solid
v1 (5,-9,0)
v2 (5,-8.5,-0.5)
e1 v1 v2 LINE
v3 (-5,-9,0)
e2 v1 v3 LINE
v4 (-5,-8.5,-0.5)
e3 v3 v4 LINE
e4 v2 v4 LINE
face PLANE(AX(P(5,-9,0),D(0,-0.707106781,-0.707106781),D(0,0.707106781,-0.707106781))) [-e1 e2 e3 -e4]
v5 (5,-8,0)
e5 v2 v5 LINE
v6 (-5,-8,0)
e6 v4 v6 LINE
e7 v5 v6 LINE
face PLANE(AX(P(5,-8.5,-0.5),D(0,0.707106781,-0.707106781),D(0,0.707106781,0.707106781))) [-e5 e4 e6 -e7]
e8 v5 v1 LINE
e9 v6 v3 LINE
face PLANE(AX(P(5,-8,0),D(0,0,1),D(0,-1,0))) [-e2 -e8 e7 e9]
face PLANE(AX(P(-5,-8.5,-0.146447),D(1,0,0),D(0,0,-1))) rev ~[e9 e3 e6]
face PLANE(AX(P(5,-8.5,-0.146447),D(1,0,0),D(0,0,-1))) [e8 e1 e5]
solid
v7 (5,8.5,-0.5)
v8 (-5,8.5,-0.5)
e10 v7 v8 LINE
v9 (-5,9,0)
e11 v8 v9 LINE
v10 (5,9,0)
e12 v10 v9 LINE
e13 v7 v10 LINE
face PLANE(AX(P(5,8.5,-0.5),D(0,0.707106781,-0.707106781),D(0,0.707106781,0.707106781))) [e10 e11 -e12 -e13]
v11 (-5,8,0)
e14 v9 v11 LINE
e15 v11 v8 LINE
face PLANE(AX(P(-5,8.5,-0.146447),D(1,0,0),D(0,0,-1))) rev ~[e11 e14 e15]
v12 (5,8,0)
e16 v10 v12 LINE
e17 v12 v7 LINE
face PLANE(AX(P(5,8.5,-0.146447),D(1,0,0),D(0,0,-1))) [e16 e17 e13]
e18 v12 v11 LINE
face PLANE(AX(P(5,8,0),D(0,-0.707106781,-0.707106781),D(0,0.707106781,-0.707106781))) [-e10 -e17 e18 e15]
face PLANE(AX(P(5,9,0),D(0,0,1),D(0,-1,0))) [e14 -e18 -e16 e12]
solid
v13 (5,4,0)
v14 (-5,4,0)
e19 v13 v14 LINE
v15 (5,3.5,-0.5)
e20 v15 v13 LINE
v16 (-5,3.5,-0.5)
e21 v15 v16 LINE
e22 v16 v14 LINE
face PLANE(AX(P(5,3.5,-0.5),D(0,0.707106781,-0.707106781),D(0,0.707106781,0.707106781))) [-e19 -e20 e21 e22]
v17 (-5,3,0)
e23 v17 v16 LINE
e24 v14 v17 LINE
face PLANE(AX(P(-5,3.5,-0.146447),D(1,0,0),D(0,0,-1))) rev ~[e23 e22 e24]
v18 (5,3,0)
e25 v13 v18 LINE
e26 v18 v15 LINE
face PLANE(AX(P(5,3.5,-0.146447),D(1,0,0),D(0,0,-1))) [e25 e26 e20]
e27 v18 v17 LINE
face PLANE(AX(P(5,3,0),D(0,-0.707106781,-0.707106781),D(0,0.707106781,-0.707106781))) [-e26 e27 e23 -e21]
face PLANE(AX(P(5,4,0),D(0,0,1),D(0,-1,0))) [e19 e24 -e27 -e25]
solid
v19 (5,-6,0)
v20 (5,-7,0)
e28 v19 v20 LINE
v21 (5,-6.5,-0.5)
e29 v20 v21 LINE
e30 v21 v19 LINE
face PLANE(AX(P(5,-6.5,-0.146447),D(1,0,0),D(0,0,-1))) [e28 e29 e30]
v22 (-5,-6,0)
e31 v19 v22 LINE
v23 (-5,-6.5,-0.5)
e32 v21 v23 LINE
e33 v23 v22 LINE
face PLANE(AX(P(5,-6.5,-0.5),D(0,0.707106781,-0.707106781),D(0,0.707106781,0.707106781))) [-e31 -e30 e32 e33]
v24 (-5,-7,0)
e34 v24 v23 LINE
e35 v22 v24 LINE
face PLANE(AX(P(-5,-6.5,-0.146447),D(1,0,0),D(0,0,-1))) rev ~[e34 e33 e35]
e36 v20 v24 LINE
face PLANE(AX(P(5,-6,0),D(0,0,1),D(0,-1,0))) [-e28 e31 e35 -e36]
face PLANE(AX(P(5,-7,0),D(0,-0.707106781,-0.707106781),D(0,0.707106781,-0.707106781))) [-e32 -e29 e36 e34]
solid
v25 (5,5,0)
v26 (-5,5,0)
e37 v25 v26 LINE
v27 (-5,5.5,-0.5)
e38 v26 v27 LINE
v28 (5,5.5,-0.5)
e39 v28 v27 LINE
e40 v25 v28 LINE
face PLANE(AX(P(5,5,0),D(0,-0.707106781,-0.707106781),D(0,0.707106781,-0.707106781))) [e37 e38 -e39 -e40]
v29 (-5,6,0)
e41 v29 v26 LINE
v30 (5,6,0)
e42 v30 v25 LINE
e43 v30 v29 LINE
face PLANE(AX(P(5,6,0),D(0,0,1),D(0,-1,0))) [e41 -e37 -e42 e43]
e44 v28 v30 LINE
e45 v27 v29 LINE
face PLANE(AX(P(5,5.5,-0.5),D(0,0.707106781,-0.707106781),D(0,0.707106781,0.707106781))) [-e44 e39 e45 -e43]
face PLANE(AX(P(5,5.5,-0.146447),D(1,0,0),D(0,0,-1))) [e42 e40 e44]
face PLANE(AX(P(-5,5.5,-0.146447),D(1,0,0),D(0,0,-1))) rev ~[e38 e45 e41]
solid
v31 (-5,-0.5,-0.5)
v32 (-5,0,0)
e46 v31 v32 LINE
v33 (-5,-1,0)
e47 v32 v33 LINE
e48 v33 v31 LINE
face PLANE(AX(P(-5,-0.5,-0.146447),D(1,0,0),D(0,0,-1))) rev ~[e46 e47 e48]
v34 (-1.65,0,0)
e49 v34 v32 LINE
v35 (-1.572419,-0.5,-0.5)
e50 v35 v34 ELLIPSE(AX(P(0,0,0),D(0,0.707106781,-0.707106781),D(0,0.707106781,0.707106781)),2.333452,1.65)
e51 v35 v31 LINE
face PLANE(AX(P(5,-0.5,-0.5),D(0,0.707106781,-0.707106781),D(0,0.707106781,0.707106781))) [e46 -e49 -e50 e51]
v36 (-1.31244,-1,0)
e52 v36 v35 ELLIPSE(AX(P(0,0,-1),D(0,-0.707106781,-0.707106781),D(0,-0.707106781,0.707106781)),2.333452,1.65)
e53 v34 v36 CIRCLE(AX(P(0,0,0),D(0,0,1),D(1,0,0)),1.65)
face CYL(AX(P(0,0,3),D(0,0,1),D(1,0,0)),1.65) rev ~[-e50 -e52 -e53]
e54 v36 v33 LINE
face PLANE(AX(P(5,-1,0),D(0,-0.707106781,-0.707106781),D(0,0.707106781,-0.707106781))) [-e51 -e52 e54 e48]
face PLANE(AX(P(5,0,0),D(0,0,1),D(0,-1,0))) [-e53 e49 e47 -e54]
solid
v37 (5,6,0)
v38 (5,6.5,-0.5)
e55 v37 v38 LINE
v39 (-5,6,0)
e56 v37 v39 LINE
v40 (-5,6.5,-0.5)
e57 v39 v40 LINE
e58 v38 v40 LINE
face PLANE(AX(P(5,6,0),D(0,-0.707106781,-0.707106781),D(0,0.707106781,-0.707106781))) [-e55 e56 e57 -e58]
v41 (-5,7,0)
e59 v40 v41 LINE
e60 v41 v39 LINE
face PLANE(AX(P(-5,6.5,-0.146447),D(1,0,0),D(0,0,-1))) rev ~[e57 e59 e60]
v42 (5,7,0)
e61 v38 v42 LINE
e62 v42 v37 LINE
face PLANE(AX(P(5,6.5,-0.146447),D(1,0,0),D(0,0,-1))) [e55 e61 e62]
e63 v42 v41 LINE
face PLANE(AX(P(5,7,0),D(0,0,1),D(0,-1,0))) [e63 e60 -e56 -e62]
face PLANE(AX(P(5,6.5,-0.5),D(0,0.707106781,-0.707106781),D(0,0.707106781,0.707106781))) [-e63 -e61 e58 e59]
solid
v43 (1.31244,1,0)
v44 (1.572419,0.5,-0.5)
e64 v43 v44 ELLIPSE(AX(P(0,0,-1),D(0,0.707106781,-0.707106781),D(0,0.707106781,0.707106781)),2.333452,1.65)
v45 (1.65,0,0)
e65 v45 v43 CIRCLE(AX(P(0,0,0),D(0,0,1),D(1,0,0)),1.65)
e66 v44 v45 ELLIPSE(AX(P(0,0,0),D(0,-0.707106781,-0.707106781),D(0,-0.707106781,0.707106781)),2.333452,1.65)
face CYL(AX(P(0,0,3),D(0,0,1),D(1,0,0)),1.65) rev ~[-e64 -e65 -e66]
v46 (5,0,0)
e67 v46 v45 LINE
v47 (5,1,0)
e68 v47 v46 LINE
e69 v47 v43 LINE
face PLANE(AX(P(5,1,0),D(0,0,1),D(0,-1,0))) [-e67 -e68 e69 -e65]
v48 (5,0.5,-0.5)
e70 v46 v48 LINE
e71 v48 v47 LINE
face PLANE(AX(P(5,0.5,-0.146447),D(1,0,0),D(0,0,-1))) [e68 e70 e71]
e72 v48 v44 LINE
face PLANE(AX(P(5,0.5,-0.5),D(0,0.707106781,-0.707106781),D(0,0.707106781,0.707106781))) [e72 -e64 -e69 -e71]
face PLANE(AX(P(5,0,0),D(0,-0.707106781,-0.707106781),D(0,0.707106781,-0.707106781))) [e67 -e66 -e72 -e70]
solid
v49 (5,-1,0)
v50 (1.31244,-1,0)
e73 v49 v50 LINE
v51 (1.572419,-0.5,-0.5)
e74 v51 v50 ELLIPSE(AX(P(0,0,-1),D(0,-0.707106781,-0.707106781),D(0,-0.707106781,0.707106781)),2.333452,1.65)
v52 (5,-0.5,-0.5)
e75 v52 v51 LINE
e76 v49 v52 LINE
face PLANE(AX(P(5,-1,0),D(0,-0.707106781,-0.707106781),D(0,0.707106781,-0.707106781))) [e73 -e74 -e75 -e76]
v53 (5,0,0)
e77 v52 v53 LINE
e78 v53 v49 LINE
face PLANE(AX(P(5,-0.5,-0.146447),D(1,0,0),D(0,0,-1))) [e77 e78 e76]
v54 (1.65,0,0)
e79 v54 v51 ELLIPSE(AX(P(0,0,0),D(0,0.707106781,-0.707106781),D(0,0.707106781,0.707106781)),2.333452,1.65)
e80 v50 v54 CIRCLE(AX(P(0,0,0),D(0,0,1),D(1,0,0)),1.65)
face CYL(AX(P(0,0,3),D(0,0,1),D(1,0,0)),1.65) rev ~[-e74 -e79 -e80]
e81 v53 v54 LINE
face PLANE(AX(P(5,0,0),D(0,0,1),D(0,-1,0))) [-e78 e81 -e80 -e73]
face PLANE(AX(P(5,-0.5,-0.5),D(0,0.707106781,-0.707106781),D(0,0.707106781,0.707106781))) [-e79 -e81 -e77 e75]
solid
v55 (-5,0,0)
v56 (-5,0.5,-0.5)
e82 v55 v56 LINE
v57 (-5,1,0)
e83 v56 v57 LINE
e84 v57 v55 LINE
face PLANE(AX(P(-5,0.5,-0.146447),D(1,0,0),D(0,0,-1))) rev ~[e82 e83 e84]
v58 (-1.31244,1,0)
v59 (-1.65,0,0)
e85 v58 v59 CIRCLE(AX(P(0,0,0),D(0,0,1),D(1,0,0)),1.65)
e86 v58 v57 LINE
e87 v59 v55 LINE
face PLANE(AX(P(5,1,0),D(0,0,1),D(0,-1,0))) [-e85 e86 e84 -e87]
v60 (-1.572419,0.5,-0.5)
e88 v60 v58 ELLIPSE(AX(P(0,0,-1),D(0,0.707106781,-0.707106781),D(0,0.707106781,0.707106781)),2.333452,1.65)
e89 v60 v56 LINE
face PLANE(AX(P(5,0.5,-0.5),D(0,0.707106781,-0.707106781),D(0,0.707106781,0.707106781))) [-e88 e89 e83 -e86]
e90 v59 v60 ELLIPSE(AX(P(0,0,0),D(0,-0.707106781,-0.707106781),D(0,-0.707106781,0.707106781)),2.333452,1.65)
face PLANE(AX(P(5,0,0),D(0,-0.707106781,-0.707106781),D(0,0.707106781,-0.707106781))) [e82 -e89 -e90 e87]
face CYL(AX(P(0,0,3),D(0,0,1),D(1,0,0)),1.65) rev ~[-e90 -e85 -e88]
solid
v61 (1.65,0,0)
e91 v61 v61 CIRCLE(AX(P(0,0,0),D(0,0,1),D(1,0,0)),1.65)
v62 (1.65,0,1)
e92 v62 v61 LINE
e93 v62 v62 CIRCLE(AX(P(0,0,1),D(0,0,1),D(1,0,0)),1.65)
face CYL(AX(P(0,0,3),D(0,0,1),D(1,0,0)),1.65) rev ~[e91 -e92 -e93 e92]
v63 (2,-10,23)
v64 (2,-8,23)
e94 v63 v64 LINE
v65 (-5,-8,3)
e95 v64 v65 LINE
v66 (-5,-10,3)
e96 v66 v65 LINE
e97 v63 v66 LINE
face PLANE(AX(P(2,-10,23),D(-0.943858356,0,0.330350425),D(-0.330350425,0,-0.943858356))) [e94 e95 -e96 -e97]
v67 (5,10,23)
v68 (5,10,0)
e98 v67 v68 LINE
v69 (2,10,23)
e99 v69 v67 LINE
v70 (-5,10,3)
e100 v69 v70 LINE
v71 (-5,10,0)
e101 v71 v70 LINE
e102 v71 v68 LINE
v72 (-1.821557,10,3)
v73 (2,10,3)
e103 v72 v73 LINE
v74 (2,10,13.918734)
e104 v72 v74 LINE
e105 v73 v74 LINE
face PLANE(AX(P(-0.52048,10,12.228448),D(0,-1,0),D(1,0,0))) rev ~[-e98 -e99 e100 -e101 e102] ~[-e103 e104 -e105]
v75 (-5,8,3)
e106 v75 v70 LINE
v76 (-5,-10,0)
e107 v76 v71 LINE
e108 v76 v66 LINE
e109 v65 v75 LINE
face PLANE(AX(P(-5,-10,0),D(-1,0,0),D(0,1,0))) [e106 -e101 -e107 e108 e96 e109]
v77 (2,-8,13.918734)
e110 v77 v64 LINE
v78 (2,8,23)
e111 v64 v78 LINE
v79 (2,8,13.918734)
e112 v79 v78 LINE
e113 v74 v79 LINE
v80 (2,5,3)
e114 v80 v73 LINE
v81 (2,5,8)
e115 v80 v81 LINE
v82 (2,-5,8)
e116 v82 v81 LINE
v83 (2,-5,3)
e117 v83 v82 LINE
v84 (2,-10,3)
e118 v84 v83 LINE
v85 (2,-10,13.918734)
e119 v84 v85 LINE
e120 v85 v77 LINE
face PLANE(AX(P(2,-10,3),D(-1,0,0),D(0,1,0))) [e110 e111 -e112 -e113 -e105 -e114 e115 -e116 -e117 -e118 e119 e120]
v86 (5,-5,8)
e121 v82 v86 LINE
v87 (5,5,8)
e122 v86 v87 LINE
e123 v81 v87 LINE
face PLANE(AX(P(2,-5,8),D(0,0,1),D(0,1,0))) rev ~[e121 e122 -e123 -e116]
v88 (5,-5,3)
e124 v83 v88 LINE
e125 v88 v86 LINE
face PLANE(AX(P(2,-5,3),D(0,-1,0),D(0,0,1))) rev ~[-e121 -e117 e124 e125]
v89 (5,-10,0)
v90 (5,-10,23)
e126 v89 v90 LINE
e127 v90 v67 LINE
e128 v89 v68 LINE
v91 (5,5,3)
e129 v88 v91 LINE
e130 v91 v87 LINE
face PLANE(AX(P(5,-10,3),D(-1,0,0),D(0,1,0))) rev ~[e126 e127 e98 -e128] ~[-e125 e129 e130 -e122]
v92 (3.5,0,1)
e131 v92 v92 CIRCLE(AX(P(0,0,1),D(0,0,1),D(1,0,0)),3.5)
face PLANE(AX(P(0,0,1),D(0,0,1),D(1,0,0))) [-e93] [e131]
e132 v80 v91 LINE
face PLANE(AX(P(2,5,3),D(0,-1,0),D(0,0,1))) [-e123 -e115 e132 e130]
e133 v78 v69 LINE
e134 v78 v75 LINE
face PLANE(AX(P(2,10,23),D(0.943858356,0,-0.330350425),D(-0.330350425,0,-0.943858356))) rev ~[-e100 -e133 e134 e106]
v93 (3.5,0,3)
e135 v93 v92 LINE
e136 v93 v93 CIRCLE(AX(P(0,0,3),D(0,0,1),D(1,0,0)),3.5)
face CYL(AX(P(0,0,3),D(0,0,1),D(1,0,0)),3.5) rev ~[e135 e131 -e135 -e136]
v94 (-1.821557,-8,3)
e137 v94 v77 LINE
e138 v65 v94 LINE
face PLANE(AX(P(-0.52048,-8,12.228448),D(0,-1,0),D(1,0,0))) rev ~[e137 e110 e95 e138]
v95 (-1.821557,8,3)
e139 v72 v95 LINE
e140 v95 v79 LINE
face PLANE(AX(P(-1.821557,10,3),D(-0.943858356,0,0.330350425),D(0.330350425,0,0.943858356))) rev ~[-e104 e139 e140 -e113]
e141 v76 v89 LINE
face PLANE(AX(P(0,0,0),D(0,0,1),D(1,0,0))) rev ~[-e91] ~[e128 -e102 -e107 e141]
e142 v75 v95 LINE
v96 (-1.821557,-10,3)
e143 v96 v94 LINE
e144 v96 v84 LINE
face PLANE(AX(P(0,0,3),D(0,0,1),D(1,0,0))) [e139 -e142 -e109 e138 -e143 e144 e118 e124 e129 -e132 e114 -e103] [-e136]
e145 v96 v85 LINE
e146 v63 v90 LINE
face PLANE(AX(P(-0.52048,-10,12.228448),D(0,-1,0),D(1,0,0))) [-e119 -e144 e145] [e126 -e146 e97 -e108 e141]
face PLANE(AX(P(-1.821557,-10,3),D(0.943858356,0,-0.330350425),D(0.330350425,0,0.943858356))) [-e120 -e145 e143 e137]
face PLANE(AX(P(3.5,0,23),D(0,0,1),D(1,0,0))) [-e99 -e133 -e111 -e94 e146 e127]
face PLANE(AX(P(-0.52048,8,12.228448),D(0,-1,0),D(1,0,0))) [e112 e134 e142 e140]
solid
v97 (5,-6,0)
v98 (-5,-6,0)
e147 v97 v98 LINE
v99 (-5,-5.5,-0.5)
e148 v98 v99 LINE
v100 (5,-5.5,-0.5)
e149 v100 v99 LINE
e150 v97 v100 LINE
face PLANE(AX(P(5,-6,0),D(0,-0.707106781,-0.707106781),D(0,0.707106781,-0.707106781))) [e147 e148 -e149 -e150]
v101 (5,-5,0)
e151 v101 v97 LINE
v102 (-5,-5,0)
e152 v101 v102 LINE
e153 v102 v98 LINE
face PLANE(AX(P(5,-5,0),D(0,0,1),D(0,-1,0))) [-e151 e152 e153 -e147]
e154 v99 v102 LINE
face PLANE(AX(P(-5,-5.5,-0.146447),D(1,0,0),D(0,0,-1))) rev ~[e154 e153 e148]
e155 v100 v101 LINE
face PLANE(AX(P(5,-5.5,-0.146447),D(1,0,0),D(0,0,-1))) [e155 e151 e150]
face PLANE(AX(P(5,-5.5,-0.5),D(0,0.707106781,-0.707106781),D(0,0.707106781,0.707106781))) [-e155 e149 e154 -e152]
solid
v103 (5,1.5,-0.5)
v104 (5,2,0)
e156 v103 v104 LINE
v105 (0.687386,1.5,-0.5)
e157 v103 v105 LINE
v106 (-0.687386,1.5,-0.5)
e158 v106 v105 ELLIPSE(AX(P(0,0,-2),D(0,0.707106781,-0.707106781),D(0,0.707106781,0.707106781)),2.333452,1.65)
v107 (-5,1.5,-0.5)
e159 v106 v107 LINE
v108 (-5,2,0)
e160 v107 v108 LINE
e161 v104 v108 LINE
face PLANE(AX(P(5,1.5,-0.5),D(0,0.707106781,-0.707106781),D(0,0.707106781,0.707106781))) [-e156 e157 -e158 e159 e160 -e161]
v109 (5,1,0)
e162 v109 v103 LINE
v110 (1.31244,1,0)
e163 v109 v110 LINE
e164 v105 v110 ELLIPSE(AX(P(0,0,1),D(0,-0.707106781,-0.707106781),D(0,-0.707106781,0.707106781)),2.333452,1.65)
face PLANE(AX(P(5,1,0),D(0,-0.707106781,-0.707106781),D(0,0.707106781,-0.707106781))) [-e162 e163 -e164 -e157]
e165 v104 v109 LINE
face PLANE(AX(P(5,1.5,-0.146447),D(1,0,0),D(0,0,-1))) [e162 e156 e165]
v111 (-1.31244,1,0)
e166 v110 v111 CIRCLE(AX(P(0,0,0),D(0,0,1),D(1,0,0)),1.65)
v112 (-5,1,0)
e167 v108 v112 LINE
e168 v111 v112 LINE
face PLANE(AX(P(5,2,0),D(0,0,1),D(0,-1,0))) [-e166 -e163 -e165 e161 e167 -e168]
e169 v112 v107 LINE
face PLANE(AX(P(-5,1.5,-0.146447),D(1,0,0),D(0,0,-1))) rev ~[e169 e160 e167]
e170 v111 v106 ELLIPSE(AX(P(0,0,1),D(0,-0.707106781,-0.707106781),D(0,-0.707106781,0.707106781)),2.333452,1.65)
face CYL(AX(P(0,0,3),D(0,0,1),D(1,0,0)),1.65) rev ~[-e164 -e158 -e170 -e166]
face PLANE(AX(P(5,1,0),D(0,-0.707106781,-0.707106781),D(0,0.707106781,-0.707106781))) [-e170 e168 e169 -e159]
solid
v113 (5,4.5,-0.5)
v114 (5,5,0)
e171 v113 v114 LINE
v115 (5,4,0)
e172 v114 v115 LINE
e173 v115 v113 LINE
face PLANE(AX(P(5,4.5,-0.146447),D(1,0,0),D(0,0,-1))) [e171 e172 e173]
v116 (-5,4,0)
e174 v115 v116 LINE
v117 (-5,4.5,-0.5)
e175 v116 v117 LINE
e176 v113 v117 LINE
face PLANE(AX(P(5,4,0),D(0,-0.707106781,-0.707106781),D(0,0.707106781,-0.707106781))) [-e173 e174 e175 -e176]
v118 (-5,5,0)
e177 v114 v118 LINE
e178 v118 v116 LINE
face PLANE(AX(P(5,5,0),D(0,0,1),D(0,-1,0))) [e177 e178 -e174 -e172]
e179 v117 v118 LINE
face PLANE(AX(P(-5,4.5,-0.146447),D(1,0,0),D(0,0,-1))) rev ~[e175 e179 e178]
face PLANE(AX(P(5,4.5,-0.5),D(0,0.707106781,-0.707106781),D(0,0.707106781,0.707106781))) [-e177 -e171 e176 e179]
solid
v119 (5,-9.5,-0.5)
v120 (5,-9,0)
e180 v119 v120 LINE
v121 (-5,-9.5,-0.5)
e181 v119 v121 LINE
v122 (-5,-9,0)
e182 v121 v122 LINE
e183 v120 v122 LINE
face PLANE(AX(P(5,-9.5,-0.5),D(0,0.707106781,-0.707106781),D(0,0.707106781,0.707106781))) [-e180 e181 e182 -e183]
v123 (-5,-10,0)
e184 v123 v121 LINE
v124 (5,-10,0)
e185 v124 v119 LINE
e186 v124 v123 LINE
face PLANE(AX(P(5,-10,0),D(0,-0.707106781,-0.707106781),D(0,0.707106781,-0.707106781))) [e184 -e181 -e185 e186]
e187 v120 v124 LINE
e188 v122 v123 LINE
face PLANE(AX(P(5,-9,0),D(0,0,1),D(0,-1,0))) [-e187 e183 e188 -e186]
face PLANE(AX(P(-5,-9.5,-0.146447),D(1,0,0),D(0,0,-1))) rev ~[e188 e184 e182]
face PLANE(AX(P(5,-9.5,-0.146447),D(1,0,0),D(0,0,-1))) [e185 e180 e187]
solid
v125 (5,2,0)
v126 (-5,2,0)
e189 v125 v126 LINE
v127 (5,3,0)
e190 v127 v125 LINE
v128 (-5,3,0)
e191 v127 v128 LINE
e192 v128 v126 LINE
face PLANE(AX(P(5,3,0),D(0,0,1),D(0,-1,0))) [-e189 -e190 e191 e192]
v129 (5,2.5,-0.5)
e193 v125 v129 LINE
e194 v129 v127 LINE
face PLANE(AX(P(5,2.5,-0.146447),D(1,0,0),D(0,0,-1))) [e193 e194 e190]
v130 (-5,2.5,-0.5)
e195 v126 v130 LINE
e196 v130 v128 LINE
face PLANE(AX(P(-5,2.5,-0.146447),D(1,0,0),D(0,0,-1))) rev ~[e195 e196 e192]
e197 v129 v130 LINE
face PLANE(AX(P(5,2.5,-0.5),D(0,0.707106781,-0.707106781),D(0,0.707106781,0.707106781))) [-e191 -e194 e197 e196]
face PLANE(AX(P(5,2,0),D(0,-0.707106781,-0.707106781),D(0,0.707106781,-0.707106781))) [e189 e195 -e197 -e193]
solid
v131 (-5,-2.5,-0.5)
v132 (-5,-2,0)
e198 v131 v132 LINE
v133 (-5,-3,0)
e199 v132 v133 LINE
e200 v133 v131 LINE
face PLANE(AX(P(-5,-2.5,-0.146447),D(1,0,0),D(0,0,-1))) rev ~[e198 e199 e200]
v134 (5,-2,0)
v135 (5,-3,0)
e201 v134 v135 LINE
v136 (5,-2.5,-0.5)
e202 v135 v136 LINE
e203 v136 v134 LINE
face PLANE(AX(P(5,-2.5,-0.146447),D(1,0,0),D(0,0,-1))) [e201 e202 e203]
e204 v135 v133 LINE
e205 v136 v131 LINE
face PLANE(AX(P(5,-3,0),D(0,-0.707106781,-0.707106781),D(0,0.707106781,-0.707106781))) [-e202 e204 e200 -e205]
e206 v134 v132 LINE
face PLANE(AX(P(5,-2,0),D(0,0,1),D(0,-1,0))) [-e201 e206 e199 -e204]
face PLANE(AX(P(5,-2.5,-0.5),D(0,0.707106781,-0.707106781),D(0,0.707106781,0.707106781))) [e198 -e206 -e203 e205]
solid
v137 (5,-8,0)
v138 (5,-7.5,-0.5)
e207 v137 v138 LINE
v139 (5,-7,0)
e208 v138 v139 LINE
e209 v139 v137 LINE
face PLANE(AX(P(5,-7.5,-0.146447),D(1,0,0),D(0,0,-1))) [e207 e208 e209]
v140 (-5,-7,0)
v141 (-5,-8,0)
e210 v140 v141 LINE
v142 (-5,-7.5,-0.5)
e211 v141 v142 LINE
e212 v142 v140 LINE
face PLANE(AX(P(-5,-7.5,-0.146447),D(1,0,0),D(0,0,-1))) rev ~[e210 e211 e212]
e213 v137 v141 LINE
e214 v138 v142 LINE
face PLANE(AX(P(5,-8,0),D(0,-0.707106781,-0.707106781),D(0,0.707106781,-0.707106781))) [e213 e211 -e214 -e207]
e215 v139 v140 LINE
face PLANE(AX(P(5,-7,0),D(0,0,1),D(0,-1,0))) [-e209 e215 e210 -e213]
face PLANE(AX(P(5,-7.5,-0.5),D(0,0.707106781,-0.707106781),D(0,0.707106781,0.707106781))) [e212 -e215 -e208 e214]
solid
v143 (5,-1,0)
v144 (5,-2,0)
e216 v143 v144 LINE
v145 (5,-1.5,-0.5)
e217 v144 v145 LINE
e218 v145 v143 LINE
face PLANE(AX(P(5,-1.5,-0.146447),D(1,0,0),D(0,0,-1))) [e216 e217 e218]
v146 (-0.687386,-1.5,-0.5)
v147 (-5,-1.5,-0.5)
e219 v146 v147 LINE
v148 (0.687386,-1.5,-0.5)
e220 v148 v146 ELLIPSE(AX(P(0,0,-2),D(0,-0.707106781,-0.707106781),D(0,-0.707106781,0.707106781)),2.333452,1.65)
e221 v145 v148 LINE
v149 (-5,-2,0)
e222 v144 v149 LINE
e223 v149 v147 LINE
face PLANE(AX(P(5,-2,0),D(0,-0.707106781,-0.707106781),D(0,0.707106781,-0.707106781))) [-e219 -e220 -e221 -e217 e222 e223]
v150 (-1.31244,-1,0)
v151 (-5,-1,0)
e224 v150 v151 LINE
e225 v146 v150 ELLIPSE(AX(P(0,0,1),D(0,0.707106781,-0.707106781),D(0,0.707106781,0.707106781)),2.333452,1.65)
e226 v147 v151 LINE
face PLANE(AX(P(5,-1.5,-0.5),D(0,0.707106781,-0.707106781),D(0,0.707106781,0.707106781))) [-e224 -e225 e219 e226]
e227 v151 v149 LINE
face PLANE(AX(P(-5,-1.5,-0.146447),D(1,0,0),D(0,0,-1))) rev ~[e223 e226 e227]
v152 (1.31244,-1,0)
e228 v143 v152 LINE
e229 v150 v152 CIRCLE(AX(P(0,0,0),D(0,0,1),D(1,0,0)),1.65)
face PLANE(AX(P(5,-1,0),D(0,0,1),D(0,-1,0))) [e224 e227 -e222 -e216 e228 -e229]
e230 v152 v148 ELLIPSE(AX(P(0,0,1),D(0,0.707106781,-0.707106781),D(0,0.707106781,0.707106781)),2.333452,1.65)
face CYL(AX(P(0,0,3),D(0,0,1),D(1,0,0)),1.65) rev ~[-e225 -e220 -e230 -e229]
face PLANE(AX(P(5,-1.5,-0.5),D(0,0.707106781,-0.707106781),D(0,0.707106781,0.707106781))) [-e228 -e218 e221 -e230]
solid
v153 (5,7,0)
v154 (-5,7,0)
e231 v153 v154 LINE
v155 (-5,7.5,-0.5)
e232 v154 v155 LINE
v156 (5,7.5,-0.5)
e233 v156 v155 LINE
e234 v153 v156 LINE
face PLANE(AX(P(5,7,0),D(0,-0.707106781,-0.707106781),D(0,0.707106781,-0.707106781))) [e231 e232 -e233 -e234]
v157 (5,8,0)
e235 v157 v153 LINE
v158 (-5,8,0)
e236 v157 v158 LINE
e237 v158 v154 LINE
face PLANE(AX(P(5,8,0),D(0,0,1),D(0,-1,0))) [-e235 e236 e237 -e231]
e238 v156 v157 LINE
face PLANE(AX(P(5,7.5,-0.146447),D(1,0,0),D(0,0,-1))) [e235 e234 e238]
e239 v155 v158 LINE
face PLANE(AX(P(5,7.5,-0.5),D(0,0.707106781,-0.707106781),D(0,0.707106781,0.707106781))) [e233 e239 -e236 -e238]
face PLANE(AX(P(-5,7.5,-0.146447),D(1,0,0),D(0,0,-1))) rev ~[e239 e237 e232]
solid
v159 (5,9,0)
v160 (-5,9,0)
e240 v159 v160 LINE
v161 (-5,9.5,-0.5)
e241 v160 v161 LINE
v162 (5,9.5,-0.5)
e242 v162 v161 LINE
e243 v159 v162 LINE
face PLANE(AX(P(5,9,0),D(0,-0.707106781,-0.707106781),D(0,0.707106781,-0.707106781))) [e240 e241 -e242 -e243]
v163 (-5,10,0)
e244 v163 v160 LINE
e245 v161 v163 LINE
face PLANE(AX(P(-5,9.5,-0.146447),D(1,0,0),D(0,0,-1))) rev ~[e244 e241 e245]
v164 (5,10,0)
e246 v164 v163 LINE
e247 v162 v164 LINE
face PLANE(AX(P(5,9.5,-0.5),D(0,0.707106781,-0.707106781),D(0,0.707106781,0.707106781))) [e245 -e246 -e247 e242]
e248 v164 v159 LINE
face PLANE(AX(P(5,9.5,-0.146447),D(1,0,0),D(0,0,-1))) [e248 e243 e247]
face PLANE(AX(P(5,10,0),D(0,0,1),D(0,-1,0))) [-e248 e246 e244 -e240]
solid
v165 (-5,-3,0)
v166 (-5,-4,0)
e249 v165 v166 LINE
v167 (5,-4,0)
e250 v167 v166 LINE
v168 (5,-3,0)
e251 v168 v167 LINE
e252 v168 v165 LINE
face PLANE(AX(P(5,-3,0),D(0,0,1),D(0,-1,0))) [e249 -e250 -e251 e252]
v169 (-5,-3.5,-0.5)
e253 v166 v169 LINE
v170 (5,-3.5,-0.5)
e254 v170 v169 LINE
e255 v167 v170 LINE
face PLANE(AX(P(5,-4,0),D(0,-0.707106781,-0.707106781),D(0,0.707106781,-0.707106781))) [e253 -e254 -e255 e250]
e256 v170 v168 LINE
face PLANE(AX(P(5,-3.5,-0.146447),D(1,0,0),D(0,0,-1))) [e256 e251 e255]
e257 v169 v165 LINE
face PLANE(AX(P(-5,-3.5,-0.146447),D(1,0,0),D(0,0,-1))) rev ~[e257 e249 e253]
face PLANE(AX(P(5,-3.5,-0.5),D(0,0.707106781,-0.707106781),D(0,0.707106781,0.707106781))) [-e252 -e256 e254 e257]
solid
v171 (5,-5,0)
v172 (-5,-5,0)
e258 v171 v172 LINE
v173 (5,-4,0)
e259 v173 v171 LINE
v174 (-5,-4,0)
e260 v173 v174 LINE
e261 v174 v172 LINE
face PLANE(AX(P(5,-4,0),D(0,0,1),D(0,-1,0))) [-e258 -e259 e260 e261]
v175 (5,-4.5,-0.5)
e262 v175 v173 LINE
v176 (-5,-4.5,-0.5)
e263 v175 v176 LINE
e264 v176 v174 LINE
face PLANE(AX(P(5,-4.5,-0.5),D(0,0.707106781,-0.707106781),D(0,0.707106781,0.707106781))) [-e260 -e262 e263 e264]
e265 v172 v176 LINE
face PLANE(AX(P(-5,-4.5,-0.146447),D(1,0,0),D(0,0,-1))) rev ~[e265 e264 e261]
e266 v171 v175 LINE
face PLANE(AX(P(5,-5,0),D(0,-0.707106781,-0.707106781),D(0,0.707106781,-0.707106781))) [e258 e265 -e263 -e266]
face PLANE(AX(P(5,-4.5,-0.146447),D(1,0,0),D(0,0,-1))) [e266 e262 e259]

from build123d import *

# Parameters (mm, degrees)
SKETCH1_W              = 10
SKETCH1_H              = 20
BOSS_EXTRUDE1_DEPTH    = 3
SKETCH2_W              = 3
SKETCH2_H              = 20
BOSS_EXTRUDE2_DEPTH    = 20
BOSS_EXTRUDE3_DEPTH    = 2
BOSS_EXTRUDE4_START    = -20
BOSS_EXTRUDE4_DEPTH    = 2
SKETCH4_W              = 5
SKETCH4_H              = 10
CUT_EXTRUDE1_DEPTH     = 12
BOSS_EXTRUDE9_DEPTH    = 10
BOSS_EXTRUDE9_2_DEPTH  = 10
BOSS_EXTRUDE9_3_DEPTH  = 10
BOSS_EXTRUDE9_4_DEPTH  = 10
BOSS_EXTRUDE9_5_DEPTH  = 10
BOSS_EXTRUDE9_6_DEPTH  = 10
BOSS_EXTRUDE9_7_DEPTH  = 10
BOSS_EXTRUDE9_8_DEPTH  = 10
BOSS_EXTRUDE9_9_DEPTH  = 10
BOSS_EXTRUDE9_10_DEPTH = 10
BOSS_EXTRUDE9_11_DEPTH = 10
BOSS_EXTRUDE9_12_DEPTH = 10
BOSS_EXTRUDE9_13_DEPTH = 10
BOSS_EXTRUDE9_14_DEPTH = 10
BOSS_EXTRUDE9_15_DEPTH = 10
BOSS_EXTRUDE9_16_DEPTH = 10
BOSS_EXTRUDE9_17_DEPTH = 10
BOSS_EXTRUDE9_18_DEPTH = 10
BOSS_EXTRUDE9_19_DEPTH = 10
BOSS_EXTRUDE9_20_DEPTH = 10
SKETCH6_R              = 1.65
CUT_EXTRUDE2_DEPTH     = 12
SKETCH7_R              = 3.5
CUT_EXTRUDE3_DEPTH     = 2


with BuildPart() as part:
    # Sketch1 → Boss-Extrude1 (new body)
    with BuildSketch(Plane.XY):
        Rectangle(SKETCH1_W, SKETCH1_H)
    extrude(amount=BOSS_EXTRUDE1_DEPTH)

    # Sketch2 → Boss-Extrude2 (add)
    with BuildSketch(Plane.XY.offset(3)):
        with Locations((3.5, 0)):
            Rectangle(SKETCH2_W, SKETCH2_H)
    extrude(amount=BOSS_EXTRUDE2_DEPTH)

    # Sketch3 → Boss-Extrude3 (add)
    with BuildSketch(Plane.XZ.offset(10)):
        Polygon((2, 23), (-5, 3), (-1.821556985, 3), (2, 13.918734243), align=None)
    extrude(amount=-BOSS_EXTRUDE3_DEPTH)

    # Sketch3<2> → Boss-Extrude4 (add)
    with BuildSketch(Plane.XZ.offset(10).offset(BOSS_EXTRUDE4_START)):
        Polygon((2, 23), (-5, 3), (-1.821556985, 3), (2, 13.918734243), align=None)
    extrude(amount=BOSS_EXTRUDE4_DEPTH)

    # Sketch4 → Cut-Extrude1 (cut)
    with BuildSketch(Plane.ZY.offset(-2)):
        with Locations((5.5, 0)):
            Rectangle(SKETCH4_W, SKETCH4_H)
    extrude(amount=-CUT_EXTRUDE1_DEPTH, mode=Mode.SUBTRACT)


with BuildPart() as body_2:
    # Sketch5 → Boss-Extrude9 (new body)
    with BuildSketch(Plane(origin=(5, 0, 0), x_dir=(0, 0, -1), z_dir=(1, 0, 0))):
        Polygon((0.5, -9.5), (0, -9), (0, -10), align=None)
    extrude(amount=-BOSS_EXTRUDE9_DEPTH)


with BuildPart() as body_3:
    # Sketch5 → Boss-Extrude9 2 (new body)
    with BuildSketch(Plane(origin=(5, 0, 0), x_dir=(0, 0, -1), z_dir=(1, 0, 0))):
        Polygon((0.5, -0.5), (0, 0), (0, -1), align=None)
    extrude(amount=-BOSS_EXTRUDE9_2_DEPTH)


with BuildPart() as body_4:
    # Sketch5 → Boss-Extrude9 3 (new body)
    with BuildSketch(Plane(origin=(5, 0, 0), x_dir=(0, 0, -1), z_dir=(1, 0, 0))):
        Polygon((0.5, 0.5), (0, 1), (0, 0), align=None)
    extrude(amount=-BOSS_EXTRUDE9_3_DEPTH)


with BuildPart() as body_5:
    # Sketch5 → Boss-Extrude9 4 (new body)
    with BuildSketch(Plane(origin=(5, 0, 0), x_dir=(0, 0, -1), z_dir=(1, 0, 0))):
        Polygon((0.5, 1.5), (0, 2), (0, 1), align=None)
    extrude(amount=-BOSS_EXTRUDE9_4_DEPTH)


with BuildPart() as body_6:
    # Sketch5 → Boss-Extrude9 5 (new body)
    with BuildSketch(Plane(origin=(5, 0, 0), x_dir=(0, 0, -1), z_dir=(1, 0, 0))):
        Polygon((0, -8), (0, -9), (0.5, -8.5), align=None)
    extrude(amount=-BOSS_EXTRUDE9_5_DEPTH)


with BuildPart() as body_7:
    # Sketch5 → Boss-Extrude9 6 (new body)
    with BuildSketch(Plane(origin=(5, 0, 0), x_dir=(0, 0, -1), z_dir=(1, 0, 0))):
        Polygon((0, -7), (0, -8), (0.5, -7.5), align=None)
    extrude(amount=-BOSS_EXTRUDE9_6_DEPTH)


with BuildPart() as body_8:
    # Sketch5 → Boss-Extrude9 7 (new body)
    with BuildSketch(Plane(origin=(5, 0, 0), x_dir=(0, 0, -1), z_dir=(1, 0, 0))):
        Polygon((0, -6), (0, -7), (0.5, -6.5), align=None)
    extrude(amount=-BOSS_EXTRUDE9_7_DEPTH)


with BuildPart() as body_9:
    # Sketch5 → Boss-Extrude9 8 (new body)
    with BuildSketch(Plane(origin=(5, 0, 0), x_dir=(0, 0, -1), z_dir=(1, 0, 0))):
        Polygon((0, -5), (0, -6), (0.5, -5.5), align=None)
    extrude(amount=-BOSS_EXTRUDE9_8_DEPTH)


with BuildPart() as body_10:
    # Sketch5 → Boss-Extrude9 9 (new body)
    with BuildSketch(Plane(origin=(5, 0, 0), x_dir=(0, 0, -1), z_dir=(1, 0, 0))):
        Polygon((0, -4), (0, -5), (0.5, -4.5), align=None)
    extrude(amount=-BOSS_EXTRUDE9_9_DEPTH)


with BuildPart() as body_11:
    # Sketch5 → Boss-Extrude9 10 (new body)
    with BuildSketch(Plane(origin=(5, 0, 0), x_dir=(0, 0, -1), z_dir=(1, 0, 0))):
        Polygon((0, -3), (0, -4), (0.5, -3.5), align=None)
    extrude(amount=-BOSS_EXTRUDE9_10_DEPTH)


with BuildPart() as body_12:
    # Sketch5 → Boss-Extrude9 11 (new body)
    with BuildSketch(Plane(origin=(5, 0, 0), x_dir=(0, 0, -1), z_dir=(1, 0, 0))):
        Polygon((0, -2), (0, -3), (0.5, -2.5), align=None)
    extrude(amount=-BOSS_EXTRUDE9_11_DEPTH)


with BuildPart() as body_13:
    # Sketch5 → Boss-Extrude9 12 (new body)
    with BuildSketch(Plane(origin=(5, 0, 0), x_dir=(0, 0, -1), z_dir=(1, 0, 0))):
        Polygon((0, -1), (0, -2), (0.5, -1.5), align=None)
    extrude(amount=-BOSS_EXTRUDE9_12_DEPTH)


with BuildPart() as body_14:
    # Sketch5 → Boss-Extrude9 13 (new body)
    with BuildSketch(Plane(origin=(5, 0, 0), x_dir=(0, 0, -1), z_dir=(1, 0, 0))):
        Polygon((0, 3), (0, 2), (0.5, 2.5), align=None)
    extrude(amount=-BOSS_EXTRUDE9_13_DEPTH)


with BuildPart() as body_15:
    # Sketch5 → Boss-Extrude9 14 (new body)
    with BuildSketch(Plane(origin=(5, 0, 0), x_dir=(0, 0, -1), z_dir=(1, 0, 0))):
        Polygon((0, 4), (0, 3), (0.5, 3.5), align=None)
    extrude(amount=-BOSS_EXTRUDE9_14_DEPTH)


with BuildPart() as body_16:
    # Sketch5 → Boss-Extrude9 15 (new body)
    with BuildSketch(Plane(origin=(5, 0, 0), x_dir=(0, 0, -1), z_dir=(1, 0, 0))):
        Polygon((0, 5), (0, 4), (0.5, 4.5), align=None)
    extrude(amount=-BOSS_EXTRUDE9_15_DEPTH)


with BuildPart() as body_17:
    # Sketch5 → Boss-Extrude9 16 (new body)
    with BuildSketch(Plane(origin=(5, 0, 0), x_dir=(0, 0, -1), z_dir=(1, 0, 0))):
        Polygon((0, 6), (0, 5), (0.5, 5.5), align=None)
    extrude(amount=-BOSS_EXTRUDE9_16_DEPTH)


with BuildPart() as body_18:
    # Sketch5 → Boss-Extrude9 17 (new body)
    with BuildSketch(Plane(origin=(5, 0, 0), x_dir=(0, 0, -1), z_dir=(1, 0, 0))):
        Polygon((0, 7), (0, 6), (0.5, 6.5), align=None)
    extrude(amount=-BOSS_EXTRUDE9_17_DEPTH)


with BuildPart() as body_19:
    # Sketch5 → Boss-Extrude9 18 (new body)
    with BuildSketch(Plane(origin=(5, 0, 0), x_dir=(0, 0, -1), z_dir=(1, 0, 0))):
        Polygon((0, 8), (0, 7), (0.5, 7.5), align=None)
    extrude(amount=-BOSS_EXTRUDE9_18_DEPTH)


with BuildPart() as body_20:
    # Sketch5 → Boss-Extrude9 19 (new body)
    with BuildSketch(Plane(origin=(5, 0, 0), x_dir=(0, 0, -1), z_dir=(1, 0, 0))):
        Polygon((0, 9), (0, 8), (0.5, 8.5), align=None)
    extrude(amount=-BOSS_EXTRUDE9_19_DEPTH)


with BuildPart() as body_21:
    # Sketch5 → Boss-Extrude9 20 (new body)
    with BuildSketch(Plane(origin=(5, 0, 0), x_dir=(0, 0, -1), z_dir=(1, 0, 0))):
        Polygon((0, 10), (0, 9), (0.5, 9.5), align=None)
    extrude(amount=-BOSS_EXTRUDE9_20_DEPTH)


with BuildPart() as cut_extrude2_tool:
    # Sketch6 → Cut-Extrude2 (new body)
    with BuildSketch(Plane.XY.offset(3)):
        Circle(SKETCH6_R)
    extrude(amount=-CUT_EXTRUDE2_DEPTH)


with BuildPart() as part_1:
    add(part.part)

    # Cut-Extrude2: cut by cut_extrude2_tool
    add(cut_extrude2_tool.part, mode=Mode.SUBTRACT)

    # Sketch7 → Cut-Extrude3 (cut)
    with BuildSketch(Plane.XY.offset(3)):
        Circle(SKETCH7_R)
    extrude(amount=-CUT_EXTRUDE3_DEPTH, mode=Mode.SUBTRACT)


with BuildPart() as body_3_1:
    add(body_3.part)

    # Cut-Extrude2: cut by cut_extrude2_tool
    add(cut_extrude2_tool.part, mode=Mode.SUBTRACT)


with BuildPart() as body_4_1:
    add(body_4.part)

    # Cut-Extrude2: cut by cut_extrude2_tool
    add(cut_extrude2_tool.part, mode=Mode.SUBTRACT)


with BuildPart() as body_5_1:
    add(body_5.part)

    # Cut-Extrude2: cut by cut_extrude2_tool
    add(cut_extrude2_tool.part, mode=Mode.SUBTRACT)


with BuildPart() as body_13_1:
    add(body_13.part)

    # Cut-Extrude2: cut by cut_extrude2_tool
    add(cut_extrude2_tool.part, mode=Mode.SUBTRACT)


solid = Compound([body_2.part, body_6.part, body_7.part, body_8.part, body_9.part, body_10.part, body_11.part, body_12.part, body_14.part, body_15.part, body_16.part, body_17.part, body_18.part, body_19.part, body_20.part, body_21.part, part_1.part, body_3_1.part, body_4_1.part, body_5_1.part, body_13_1.part])
